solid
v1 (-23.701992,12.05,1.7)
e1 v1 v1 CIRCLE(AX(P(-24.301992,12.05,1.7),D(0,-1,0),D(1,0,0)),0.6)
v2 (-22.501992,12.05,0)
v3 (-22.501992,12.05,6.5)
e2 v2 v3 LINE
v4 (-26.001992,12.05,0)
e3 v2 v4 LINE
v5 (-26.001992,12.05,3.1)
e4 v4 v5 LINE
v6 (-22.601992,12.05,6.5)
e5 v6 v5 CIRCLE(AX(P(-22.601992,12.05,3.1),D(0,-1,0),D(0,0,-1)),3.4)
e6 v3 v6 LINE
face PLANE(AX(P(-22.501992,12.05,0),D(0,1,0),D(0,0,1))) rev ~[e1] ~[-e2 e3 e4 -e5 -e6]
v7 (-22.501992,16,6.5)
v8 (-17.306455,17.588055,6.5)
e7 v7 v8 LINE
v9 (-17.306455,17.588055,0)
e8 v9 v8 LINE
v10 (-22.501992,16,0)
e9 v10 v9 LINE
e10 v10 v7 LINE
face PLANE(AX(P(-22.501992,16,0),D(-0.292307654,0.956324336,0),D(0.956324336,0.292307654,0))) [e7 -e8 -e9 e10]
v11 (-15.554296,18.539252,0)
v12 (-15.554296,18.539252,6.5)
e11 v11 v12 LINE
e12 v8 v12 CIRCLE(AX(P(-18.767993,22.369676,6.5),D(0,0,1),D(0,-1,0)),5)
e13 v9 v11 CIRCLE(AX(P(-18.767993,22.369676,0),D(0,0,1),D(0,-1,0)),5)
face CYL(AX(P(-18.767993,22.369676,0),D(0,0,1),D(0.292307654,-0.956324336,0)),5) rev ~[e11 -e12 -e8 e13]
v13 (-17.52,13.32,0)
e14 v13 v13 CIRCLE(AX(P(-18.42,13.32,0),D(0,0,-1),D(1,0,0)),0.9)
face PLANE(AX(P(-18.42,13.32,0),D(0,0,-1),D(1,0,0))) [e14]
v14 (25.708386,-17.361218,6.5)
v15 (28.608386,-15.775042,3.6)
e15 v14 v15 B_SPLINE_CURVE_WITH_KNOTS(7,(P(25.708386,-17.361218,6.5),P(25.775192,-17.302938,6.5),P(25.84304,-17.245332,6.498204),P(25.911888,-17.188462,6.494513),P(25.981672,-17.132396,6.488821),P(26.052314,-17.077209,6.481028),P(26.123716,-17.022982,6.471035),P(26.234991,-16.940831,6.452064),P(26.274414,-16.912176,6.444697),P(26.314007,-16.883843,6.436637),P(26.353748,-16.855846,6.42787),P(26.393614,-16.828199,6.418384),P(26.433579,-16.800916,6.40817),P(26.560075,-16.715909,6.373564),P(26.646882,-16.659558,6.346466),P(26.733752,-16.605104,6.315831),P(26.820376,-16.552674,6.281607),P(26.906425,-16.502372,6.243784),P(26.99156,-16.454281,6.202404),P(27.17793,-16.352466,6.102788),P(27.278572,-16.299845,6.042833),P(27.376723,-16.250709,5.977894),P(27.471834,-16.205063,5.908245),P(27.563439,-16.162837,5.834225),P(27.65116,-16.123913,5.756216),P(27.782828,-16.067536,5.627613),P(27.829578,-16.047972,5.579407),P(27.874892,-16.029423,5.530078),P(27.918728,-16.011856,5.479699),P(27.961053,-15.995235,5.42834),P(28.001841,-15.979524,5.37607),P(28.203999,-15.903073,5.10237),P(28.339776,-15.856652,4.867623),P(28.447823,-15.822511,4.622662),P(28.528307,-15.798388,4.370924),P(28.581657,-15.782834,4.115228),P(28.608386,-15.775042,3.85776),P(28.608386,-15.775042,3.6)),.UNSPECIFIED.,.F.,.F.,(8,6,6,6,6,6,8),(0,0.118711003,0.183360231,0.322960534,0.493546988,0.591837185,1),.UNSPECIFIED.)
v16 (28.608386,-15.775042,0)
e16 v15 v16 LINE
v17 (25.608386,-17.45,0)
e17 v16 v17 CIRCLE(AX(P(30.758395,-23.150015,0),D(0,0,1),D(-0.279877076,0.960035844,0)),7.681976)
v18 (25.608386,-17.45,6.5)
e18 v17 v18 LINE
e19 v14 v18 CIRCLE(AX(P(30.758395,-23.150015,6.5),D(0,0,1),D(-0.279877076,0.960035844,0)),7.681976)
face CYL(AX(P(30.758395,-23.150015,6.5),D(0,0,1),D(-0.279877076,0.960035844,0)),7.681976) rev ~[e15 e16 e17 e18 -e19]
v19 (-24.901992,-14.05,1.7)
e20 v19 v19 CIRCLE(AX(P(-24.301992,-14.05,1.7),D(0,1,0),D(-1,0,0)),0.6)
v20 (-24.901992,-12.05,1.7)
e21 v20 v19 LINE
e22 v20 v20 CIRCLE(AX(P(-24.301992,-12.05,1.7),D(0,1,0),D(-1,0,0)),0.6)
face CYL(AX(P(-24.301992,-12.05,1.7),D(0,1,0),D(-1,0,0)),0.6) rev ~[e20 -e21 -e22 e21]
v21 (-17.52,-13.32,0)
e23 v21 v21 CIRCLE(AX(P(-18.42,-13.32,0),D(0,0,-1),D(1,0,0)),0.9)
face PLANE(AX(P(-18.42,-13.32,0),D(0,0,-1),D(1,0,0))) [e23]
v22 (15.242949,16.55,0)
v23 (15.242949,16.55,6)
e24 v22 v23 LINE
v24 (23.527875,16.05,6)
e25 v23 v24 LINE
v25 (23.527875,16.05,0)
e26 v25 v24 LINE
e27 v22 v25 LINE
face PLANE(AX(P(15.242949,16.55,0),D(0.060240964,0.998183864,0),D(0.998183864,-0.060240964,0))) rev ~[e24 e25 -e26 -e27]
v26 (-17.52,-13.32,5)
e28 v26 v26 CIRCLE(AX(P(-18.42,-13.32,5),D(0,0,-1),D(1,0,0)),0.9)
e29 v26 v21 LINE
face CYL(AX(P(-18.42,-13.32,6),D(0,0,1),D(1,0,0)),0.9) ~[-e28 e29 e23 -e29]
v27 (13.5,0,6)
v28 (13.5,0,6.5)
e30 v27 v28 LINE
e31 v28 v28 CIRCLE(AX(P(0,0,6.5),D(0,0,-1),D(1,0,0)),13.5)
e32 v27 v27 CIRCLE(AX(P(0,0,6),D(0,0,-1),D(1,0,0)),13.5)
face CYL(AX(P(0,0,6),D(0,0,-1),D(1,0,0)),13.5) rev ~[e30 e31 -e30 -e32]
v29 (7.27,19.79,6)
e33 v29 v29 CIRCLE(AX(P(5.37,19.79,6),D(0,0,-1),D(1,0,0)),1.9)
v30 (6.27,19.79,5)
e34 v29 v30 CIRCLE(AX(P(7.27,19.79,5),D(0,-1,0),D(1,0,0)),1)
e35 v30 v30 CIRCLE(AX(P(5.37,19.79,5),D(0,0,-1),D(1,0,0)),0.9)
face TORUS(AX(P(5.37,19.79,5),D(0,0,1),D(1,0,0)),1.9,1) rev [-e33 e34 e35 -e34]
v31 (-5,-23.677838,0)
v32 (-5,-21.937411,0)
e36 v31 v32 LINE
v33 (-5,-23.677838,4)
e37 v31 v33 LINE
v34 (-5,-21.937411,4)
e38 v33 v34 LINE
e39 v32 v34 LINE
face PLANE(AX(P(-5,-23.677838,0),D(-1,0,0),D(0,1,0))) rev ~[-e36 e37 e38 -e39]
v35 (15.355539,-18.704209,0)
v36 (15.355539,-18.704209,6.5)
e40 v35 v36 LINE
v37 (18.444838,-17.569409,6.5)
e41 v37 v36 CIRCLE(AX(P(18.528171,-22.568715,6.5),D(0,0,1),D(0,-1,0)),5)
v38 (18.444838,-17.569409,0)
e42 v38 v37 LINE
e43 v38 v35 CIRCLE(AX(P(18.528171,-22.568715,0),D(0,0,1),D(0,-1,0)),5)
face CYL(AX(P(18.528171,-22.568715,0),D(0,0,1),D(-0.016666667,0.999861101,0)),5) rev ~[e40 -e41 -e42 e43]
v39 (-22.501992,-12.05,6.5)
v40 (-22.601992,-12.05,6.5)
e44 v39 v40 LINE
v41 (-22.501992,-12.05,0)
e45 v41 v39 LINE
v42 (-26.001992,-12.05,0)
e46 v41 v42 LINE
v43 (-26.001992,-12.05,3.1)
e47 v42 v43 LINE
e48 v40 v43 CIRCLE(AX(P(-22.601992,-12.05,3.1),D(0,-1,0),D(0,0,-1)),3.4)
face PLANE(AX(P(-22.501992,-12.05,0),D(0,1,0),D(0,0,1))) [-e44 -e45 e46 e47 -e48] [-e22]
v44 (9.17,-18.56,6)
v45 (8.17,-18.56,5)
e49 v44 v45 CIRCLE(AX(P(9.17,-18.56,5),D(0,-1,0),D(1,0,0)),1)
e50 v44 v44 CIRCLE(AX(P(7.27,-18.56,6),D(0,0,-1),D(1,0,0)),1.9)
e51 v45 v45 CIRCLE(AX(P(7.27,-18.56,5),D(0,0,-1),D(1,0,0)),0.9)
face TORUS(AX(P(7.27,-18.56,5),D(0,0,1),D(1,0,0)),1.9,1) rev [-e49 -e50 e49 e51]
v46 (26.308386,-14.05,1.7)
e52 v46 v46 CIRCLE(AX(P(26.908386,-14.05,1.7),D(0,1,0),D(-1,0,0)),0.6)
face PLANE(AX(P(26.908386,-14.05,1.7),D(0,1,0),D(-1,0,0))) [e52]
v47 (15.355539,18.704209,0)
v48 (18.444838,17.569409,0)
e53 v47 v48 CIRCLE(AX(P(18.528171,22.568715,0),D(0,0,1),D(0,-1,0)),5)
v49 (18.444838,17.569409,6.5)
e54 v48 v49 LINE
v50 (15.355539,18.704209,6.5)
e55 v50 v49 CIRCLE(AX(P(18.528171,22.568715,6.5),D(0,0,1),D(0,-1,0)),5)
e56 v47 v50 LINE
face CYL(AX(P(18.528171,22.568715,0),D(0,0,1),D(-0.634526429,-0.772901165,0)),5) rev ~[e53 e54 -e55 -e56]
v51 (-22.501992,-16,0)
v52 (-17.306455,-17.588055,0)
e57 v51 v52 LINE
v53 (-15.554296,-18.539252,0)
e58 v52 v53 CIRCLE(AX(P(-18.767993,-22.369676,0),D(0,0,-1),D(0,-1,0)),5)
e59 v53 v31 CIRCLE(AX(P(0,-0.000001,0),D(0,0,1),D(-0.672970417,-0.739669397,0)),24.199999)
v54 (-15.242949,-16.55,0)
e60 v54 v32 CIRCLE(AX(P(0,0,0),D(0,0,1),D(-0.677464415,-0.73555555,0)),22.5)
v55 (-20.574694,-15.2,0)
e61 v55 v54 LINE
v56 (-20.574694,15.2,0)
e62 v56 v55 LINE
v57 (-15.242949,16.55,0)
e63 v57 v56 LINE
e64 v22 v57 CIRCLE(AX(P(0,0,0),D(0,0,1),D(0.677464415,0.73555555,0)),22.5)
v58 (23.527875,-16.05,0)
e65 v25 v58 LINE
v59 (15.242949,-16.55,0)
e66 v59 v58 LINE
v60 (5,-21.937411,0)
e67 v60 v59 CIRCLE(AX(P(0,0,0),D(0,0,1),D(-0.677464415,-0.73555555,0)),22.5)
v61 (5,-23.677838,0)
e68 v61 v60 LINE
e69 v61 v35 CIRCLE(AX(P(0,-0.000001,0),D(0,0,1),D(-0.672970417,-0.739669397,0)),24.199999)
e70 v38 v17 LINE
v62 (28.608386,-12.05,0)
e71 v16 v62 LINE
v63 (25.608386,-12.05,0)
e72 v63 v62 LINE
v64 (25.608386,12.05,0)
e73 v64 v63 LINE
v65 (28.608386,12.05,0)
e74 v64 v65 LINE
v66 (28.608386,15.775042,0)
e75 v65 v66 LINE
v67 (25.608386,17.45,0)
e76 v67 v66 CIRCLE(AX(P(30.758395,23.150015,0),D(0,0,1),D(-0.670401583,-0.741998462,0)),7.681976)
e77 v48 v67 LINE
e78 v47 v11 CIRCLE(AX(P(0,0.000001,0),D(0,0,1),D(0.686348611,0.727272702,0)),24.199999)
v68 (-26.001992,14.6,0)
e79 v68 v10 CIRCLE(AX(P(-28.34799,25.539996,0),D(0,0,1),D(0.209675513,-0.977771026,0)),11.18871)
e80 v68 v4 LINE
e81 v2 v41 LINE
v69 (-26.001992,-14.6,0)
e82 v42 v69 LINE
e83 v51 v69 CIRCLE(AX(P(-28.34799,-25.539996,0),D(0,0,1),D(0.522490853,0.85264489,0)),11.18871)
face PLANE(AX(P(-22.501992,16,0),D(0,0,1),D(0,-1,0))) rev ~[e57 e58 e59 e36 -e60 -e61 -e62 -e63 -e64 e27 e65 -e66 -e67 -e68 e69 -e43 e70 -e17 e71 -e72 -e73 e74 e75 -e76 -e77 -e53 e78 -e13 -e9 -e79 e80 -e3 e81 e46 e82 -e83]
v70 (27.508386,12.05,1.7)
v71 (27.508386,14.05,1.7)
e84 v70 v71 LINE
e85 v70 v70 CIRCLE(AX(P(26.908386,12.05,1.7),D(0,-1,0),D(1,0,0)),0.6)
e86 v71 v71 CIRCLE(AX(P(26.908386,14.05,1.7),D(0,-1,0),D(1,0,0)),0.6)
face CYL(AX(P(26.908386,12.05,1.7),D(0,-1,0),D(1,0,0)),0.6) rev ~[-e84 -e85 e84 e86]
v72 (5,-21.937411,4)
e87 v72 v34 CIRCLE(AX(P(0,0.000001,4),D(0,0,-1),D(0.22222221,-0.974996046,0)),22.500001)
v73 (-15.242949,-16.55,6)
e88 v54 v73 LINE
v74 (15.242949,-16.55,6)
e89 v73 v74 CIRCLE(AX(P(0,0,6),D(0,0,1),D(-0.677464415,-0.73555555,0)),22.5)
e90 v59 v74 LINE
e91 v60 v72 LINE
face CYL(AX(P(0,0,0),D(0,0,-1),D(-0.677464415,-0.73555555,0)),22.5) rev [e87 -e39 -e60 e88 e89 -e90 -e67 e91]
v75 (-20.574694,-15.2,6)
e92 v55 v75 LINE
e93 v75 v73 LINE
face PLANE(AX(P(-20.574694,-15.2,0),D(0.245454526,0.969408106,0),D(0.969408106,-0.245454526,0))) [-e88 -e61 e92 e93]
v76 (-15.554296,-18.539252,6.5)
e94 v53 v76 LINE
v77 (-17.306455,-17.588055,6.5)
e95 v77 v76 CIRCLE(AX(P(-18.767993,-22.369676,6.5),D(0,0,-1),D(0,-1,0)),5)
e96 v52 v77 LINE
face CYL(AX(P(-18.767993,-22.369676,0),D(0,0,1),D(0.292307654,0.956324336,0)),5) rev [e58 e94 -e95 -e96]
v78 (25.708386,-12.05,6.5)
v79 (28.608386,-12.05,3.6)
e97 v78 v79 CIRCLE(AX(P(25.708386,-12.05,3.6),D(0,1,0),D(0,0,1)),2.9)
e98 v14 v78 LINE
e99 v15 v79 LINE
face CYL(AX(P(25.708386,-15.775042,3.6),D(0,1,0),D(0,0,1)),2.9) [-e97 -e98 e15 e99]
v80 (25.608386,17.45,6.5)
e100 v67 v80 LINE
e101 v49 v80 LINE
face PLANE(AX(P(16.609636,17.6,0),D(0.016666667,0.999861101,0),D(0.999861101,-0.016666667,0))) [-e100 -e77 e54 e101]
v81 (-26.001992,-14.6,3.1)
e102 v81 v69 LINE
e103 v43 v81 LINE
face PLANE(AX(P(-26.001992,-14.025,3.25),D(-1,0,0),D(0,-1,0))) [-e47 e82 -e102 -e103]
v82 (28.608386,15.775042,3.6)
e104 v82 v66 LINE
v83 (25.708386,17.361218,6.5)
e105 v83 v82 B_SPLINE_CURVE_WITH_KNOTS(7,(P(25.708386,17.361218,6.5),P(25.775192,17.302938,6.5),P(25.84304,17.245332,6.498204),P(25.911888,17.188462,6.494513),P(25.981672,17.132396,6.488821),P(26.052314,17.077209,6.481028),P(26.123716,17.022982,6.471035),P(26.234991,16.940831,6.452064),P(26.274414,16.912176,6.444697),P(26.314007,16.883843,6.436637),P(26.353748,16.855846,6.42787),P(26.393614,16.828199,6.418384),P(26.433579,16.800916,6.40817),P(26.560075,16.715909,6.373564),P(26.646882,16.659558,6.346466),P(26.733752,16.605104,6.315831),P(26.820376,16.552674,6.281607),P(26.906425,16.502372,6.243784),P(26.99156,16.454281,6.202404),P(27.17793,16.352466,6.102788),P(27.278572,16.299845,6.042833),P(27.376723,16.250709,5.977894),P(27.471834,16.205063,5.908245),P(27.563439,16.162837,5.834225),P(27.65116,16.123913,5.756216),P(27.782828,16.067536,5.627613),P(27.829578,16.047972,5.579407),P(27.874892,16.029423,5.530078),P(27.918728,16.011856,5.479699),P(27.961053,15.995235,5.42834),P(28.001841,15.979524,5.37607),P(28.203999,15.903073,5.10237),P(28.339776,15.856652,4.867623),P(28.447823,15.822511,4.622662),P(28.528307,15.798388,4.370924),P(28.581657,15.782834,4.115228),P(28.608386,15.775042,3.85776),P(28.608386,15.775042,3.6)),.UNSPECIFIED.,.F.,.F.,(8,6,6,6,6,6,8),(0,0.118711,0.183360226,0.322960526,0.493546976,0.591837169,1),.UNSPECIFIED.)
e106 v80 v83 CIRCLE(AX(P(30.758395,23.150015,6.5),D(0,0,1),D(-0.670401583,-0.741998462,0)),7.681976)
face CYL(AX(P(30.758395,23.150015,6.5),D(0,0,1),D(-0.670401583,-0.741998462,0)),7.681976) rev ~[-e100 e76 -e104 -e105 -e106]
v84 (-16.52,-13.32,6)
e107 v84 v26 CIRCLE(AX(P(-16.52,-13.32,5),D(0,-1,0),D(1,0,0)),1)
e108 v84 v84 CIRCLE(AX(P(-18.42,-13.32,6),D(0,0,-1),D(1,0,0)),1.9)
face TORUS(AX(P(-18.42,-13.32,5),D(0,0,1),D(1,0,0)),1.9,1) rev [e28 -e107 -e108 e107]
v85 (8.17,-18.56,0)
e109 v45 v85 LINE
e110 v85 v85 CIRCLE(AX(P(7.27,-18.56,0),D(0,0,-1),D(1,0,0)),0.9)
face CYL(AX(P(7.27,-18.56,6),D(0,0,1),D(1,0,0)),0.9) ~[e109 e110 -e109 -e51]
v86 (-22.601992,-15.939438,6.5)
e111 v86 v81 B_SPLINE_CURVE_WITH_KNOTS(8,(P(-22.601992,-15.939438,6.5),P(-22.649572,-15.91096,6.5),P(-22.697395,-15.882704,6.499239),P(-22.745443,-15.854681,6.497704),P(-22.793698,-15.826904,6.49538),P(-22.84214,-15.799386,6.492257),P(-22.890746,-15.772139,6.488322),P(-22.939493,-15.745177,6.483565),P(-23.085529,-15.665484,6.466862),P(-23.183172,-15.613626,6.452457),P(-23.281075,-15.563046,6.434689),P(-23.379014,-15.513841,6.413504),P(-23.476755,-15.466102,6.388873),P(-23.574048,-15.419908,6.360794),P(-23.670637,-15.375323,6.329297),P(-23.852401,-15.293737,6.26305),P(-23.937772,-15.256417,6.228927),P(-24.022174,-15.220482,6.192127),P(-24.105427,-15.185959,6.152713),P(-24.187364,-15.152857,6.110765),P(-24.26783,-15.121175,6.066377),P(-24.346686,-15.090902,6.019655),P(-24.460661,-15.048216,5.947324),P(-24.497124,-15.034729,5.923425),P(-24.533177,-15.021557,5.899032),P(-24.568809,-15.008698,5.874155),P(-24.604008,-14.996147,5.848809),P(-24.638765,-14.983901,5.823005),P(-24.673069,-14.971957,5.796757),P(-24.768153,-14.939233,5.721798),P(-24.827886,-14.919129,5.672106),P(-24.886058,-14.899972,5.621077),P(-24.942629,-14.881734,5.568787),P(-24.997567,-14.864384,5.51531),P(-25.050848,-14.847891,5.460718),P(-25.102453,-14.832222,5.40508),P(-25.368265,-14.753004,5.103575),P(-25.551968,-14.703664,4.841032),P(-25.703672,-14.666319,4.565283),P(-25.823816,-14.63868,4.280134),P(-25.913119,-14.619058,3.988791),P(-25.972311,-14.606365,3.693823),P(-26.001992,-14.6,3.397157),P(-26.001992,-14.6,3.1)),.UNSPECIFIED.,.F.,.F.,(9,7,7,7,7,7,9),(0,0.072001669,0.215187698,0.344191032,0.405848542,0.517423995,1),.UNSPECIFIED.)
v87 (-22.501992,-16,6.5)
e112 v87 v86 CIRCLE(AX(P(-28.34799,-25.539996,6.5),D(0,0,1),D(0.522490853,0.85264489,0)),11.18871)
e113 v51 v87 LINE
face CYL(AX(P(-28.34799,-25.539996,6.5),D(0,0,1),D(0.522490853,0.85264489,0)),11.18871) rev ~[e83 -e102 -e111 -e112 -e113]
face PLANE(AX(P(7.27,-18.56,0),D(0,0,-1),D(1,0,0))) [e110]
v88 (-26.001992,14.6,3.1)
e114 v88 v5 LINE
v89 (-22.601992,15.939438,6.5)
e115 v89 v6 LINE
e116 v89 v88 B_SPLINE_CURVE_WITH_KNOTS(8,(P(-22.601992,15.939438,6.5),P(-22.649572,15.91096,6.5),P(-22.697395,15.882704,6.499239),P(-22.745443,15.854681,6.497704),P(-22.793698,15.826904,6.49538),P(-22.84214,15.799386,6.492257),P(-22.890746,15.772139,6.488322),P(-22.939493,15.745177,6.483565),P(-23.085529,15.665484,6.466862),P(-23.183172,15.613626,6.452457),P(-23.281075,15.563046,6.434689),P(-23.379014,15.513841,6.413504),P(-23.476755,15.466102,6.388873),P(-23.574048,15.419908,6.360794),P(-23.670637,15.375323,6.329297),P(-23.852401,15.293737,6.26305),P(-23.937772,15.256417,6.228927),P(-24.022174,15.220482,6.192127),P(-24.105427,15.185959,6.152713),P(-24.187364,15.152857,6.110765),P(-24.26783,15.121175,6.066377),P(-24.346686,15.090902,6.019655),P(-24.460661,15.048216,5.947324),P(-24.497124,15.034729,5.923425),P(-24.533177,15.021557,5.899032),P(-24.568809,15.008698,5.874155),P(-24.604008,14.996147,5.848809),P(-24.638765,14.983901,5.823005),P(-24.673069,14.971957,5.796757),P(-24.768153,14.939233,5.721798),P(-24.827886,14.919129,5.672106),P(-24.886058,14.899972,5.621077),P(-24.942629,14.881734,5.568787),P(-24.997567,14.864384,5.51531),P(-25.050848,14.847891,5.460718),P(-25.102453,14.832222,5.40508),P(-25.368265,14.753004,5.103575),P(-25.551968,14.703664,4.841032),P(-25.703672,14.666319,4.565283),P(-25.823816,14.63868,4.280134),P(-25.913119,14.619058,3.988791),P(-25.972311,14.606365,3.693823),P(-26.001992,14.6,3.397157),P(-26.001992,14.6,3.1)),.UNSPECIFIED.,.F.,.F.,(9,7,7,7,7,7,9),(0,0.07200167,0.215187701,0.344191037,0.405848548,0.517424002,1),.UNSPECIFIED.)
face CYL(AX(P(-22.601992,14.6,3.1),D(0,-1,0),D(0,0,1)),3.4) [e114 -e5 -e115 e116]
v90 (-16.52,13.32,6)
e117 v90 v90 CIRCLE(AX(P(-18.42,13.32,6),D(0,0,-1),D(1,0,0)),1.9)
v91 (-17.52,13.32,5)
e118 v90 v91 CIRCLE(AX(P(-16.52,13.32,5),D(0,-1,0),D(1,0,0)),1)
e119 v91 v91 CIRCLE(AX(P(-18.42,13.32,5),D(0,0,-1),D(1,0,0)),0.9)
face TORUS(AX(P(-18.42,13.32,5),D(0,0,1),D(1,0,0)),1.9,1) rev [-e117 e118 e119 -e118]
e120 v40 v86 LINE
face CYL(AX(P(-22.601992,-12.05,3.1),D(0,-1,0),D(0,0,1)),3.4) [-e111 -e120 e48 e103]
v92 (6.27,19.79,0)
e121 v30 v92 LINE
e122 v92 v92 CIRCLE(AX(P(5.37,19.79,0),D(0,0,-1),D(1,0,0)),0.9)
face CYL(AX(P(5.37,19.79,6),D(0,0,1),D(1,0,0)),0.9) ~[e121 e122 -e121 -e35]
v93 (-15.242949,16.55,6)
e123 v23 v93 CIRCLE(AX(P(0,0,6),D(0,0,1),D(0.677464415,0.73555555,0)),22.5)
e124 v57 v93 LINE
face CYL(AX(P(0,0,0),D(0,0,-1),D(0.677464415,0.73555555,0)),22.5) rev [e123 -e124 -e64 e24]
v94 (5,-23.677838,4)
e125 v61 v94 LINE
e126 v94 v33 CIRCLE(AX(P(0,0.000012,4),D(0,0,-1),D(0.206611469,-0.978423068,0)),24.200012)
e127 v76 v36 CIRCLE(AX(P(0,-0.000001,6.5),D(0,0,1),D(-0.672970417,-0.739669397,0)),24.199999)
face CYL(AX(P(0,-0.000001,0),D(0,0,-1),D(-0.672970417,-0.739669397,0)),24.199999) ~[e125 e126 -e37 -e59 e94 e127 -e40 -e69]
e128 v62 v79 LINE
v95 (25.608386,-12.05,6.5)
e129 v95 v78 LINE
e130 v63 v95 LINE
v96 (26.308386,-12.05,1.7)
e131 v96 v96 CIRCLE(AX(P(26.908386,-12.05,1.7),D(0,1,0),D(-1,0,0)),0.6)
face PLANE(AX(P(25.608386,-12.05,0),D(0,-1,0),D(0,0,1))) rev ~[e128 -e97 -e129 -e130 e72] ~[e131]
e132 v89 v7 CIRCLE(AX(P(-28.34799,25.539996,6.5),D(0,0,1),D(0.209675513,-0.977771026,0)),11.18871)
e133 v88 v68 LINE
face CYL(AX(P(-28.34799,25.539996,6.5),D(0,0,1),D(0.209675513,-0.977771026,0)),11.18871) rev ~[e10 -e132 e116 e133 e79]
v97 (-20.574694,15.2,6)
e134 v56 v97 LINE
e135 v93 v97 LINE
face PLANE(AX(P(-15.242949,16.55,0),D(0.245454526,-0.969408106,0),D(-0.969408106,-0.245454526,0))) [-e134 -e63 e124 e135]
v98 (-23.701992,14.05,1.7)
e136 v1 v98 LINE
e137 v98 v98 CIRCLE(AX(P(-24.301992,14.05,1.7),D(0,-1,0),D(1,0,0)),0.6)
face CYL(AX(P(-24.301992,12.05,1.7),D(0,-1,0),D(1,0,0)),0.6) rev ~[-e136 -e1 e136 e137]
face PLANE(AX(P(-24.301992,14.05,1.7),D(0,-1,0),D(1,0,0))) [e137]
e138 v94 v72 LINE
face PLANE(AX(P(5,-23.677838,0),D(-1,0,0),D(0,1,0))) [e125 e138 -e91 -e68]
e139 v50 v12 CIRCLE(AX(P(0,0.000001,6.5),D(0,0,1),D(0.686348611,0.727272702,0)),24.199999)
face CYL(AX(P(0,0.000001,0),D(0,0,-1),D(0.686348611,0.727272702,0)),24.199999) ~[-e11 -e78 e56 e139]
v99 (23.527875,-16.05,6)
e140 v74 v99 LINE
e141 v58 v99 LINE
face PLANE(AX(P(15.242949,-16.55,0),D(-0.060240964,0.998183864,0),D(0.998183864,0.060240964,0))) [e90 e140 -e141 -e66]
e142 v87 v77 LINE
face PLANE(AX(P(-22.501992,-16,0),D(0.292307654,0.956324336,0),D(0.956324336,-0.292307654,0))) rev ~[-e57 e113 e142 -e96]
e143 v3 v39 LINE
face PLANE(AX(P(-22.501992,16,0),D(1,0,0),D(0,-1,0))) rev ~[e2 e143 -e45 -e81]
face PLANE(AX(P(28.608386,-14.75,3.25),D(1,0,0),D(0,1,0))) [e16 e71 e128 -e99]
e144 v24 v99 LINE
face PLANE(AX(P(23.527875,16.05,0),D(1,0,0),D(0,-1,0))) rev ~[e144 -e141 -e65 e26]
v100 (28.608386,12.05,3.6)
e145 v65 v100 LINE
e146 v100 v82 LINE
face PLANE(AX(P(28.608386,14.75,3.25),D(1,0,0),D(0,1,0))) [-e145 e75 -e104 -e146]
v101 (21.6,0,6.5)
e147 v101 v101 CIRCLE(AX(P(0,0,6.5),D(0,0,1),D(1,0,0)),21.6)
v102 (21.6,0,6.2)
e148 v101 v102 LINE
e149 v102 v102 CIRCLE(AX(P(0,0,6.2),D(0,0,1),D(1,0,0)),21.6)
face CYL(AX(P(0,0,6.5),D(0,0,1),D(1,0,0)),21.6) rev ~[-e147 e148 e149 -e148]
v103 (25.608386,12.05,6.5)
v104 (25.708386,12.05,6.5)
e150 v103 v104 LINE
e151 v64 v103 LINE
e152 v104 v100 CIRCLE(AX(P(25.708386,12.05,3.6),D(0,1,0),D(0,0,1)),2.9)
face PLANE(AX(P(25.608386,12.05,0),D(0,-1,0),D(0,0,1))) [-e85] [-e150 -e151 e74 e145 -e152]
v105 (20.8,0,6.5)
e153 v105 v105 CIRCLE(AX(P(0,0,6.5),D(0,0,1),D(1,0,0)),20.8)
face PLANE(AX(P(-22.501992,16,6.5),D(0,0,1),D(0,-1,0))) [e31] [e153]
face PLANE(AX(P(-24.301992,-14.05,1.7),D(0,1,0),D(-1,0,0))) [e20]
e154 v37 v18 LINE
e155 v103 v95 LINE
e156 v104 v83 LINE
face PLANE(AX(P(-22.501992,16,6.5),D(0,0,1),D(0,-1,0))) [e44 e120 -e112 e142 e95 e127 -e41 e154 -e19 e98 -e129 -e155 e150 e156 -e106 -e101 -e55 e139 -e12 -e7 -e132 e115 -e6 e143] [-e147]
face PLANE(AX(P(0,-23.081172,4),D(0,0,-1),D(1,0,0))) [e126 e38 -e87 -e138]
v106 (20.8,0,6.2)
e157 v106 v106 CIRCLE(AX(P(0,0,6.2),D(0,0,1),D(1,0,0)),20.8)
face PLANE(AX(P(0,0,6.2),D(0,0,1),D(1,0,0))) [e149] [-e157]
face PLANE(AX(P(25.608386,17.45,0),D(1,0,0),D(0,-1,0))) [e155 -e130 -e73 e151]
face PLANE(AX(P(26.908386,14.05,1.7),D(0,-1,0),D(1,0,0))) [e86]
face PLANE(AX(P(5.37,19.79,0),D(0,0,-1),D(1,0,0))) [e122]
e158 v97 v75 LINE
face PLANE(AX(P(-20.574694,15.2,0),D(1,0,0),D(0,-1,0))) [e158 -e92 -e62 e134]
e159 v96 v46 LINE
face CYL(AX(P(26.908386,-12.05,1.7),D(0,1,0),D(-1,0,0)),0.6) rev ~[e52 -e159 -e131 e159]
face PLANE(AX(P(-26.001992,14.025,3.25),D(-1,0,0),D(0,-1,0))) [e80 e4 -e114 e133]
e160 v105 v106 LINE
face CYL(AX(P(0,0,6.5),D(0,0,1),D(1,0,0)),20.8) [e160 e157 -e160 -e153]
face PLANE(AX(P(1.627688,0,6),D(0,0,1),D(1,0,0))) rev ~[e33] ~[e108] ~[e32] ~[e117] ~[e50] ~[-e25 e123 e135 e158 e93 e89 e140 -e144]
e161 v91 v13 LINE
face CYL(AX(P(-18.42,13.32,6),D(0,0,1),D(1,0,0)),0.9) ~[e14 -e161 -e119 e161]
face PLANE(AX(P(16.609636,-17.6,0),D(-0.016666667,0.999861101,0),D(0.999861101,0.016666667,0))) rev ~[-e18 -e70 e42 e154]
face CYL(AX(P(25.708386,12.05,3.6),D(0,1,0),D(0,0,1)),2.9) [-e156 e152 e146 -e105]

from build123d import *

# Parameters (mm, degrees)
PAD_DEPTH       = 6.5
POCKET_DEPTH    = 6
SKETCH002_R     = 13.5
POCKET001_DEPTH = 1
SKETCH003_W     = 5.4
SKETCH003_H     = 6.5
PAD001_DEPTH    = 3
POCKET002_DEPTH = 10
SKETCH008_R     = 0.6
POCKET003_DEPTH = 2
SKETCH009_R     = 0.6
POCKET004_DEPTH = 2
FILLET_R        = 2.9
FILLET001_R     = 2.9
FILLET002_R     = 5
FILLET003_R     = 5
FILLET004_R     = 5
FILLET005_R     = 5
SKETCH010_W     = 3.95
SKETCH010_H     = 6.5
PAD002_DEPTH    = 3.5
POCKET005_DEPTH = 10
SKETCH012_R     = 0.6
POCKET006_DEPTH = 2
SKETCH013_R     = 0.6
POCKET007_DEPTH = 2
FILLET006_R     = 3.4
FILLET007_R     = 3.4
SKETCH014_R     = 21.6
SKETCH014_R_2   = 20.8
POCKET008_DEPTH = 0.3
SKETCH015_R     = 0.9
PAD003_DEPTH    = 6
FILLET008_R     = 1
POCKET009_DEPTH = 4


with BuildPart() as part:
    # Sketch → Pad (new body)
    with BuildSketch(Plane.XY):
        with BuildLine():
            Line((-22.501992, 16), (-22.501992, -16))
            Line((-22.501992, -16), (-16.285883, -17.9))
            ThreePointArc((-16.285883, -17.9), (0.22069, -24.198994), (16.609636, -17.6))
            Line((16.609636, -17.6), (25.608386, -17.45))
            Line((25.608386, 17.45), (25.608386, -17.45))
            Line((16.609636, 17.6), (25.608386, 17.45))
            ThreePointArc((16.609636, 17.6), (0.22069, 24.198994), (-16.285883, 17.9))
            Line((-22.501992, 16), (-16.285883, 17.9))
        make_face()
    extrude(amount=PAD_DEPTH)

    # Sketch001 → Pocket (cut)
    with BuildSketch(Plane.XY):
        with BuildLine():
            Line((-15.242949, 16.55), (-20.574694, 15.2))
            Line((-20.574694, 15.2), (-20.574694, -15.2))
            Line((-20.574694, -15.2), (-15.242949, -16.55))
            ThreePointArc((-15.242949, -16.55), (0, -22.5), (15.242949, -16.55))
            Line((15.242949, -16.55), (23.527875, -16.05))
            Line((23.527875, 16.05), (23.527875, -16.05))
            Line((15.242949, 16.55), (23.527875, 16.05))
            ThreePointArc((15.242949, 16.55), (0, 22.5), (-15.242949, 16.55))
        make_face()
    extrude(amount=POCKET_DEPTH, mode=Mode.SUBTRACT)

    # Sketch002 (on Face19 of Pocket) → Pocket001 (cut)
    with BuildSketch(Plane(origin=(0, 0, 6), x_dir=(1, 0, 0), z_dir=(0, 0, -1))):
        Circle(SKETCH002_R)
    extrude(amount=-POCKET001_DEPTH, mode=Mode.SUBTRACT)

    # Sketch003 (on Face6 of Pocket001) → Pad001 (join)
    with BuildSketch(Plane.YZ.offset(25.608386)):
        with Locations((-14.75, 3.25)):
            Rectangle(SKETCH003_W, SKETCH003_H)
        with Locations((14.75, 3.25)):
            Rectangle(SKETCH003_W, SKETCH003_H)
    extrude(amount=PAD001_DEPTH)

    # Sketch006 → Pocket002 (cut)
    with BuildSketch(Plane.XY.offset(6.5)):
        with BuildLine():
            ThreePointArc((25.608386, 17.45), (27.01354, 16.442644), (28.608386, 15.775042))
            Line((28.608386, 17.45), (28.608386, 15.775042))
            Line((28.608386, 17.45), (25.608386, 17.45))
        make_face()
        with BuildLine():
            ThreePointArc((28.608386, -15.775042), (27.01354, -16.442644), (25.608386, -17.45))
            Line((28.608386, -17.45), (25.608386, -17.45))
            Line((28.608386, -15.775042), (28.608386, -17.45))
        make_face()
    extrude(amount=-POCKET002_DEPTH, mode=Mode.SUBTRACT)

    # Sketch008 (on Face27 of Pocket002) → Pocket003 (cut)
    with BuildSketch(Plane(origin=(0, -12.05, 0), x_dir=(-1, 0, 0), z_dir=(0, 1, 0))):
        with Locations((-26.908386, 1.7)):
            Circle(SKETCH008_R)
    extrude(amount=-POCKET003_DEPTH, mode=Mode.SUBTRACT)

    # Sketch009 (on Face26 of Pocket003) → Pocket004 (cut)
    with BuildSketch(Plane.XZ.offset(-12.05)):
        with Locations((26.908386, 1.7)):
            Circle(SKETCH009_R)
    extrude(amount=-POCKET004_DEPTH, mode=Mode.SUBTRACT)

    # Fillet
    fillet_edges = [part.edges().sort_by_distance(p)[0] for p in [
        (28.608386, -13.912521, 6.5),
    ]]
    fillet(fillet_edges, radius=FILLET_R)

    # Fillet001
    fillet001_edges = [part.edges().sort_by_distance(p)[0] for p in [
        (28.608386, 13.912521, 6.5),
    ]]
    fillet(fillet001_edges, radius=FILLET001_R)

    # Fillet002
    fillet002_edges = [part.edges().sort_by_distance(p)[0] for p in [
        (16.609636, -17.6, 3.25),
    ]]
    fillet(fillet002_edges, radius=FILLET002_R)

    # Fillet003
    fillet003_edges = [part.edges().sort_by_distance(p)[0] for p in [
        (16.609636, 17.6, 3.25),
    ]]
    fillet(fillet003_edges, radius=FILLET003_R)

    # Fillet004
    fillet004_edges = [part.edges().sort_by_distance(p)[0] for p in [
        (-16.285883, -17.9, 3.25),
    ]]
    fillet(fillet004_edges, radius=FILLET004_R)

    # Fillet005
    fillet005_edges = [part.edges().sort_by_distance(p)[0] for p in [
        (-16.285883, 17.9, 3.25),
    ]]
    fillet(fillet005_edges, radius=FILLET005_R)

    # Sketch010 (on Face4 of Fillet005) → Pad002 (join)
    with BuildSketch(Plane(origin=(-22.501992, 0, 0), x_dir=(0, -1, 0), z_dir=(-1, 0, 0))):
        with Locations((-14.025, 3.25)):
            Rectangle(SKETCH010_W, SKETCH010_H)
        with Locations((14.025, 3.25)):
            Rectangle(SKETCH010_W, SKETCH010_H)
    extrude(amount=PAD002_DEPTH)

    # Sketch011 (on Face6 of Pad002) → Pocket005 (cut)
    with BuildSketch(Plane.XY.offset(6.5)):
        with BuildLine():
            ThreePointArc((-26.001992, 14.6), (-24.192608, 15.15154), (-22.501992, 16))
            Line((-22.501992, 16), (-26.001992, 16))
            Line((-26.001992, 16), (-26.001992, 14.6))
        make_face()
        with BuildLine():
            ThreePointArc((-22.501992, -16), (-24.192608, -15.15154), (-26.001992, -14.6))
            Line((-26.001992, -14.6), (-26.001992, -16))
            Line((-26.001992, -16), (-22.501992, -16))
        make_face()
    extrude(amount=-POCKET005_DEPTH, mode=Mode.SUBTRACT)

    # Sketch012 (on Face23 of Pocket005) → Pocket006 (cut)
    with BuildSketch(Plane(origin=(0, -12.05, 0), x_dir=(-1, 0, 0), z_dir=(0, 1, 0))):
        with Locations((24.301992, 1.7)):
            Circle(SKETCH012_R)
    extrude(amount=-POCKET006_DEPTH, mode=Mode.SUBTRACT)

    # Sketch013 (on Face21 of Pocket006) → Pocket007 (cut)
    with BuildSketch(Plane.XZ.offset(-12.05)):
        with Locations((-24.301992, 1.7)):
            Circle(SKETCH013_R)
    extrude(amount=-POCKET007_DEPTH, mode=Mode.SUBTRACT)

    # Fillet006
    fillet006_edges = [part.edges().sort_by_distance(p)[0] for p in [
        (-26.001992, 13.325, 6.5),
    ]]
    fillet(fillet006_edges, radius=FILLET006_R)

    # Fillet007
    fillet007_edges = [part.edges().sort_by_distance(p)[0] for p in [
        (-26.001992, -13.325, 6.5),
    ]]
    fillet(fillet007_edges, radius=FILLET007_R)

    # Sketch014 (on Face4 of Fillet007) → Pocket008 (cut)
    with BuildSketch(Plane.XY.offset(6.5)):
        Circle(SKETCH014_R)
        Circle(SKETCH014_R_2, mode=Mode.SUBTRACT)
    extrude(amount=-POCKET008_DEPTH, mode=Mode.SUBTRACT)

    # Sketch015 (on Face55 of Pocket008) → Pad003 (join)
    with BuildSketch(Plane(origin=(0, 0, 6), x_dir=(1, 0, 0), z_dir=(0, 0, -1))):
        with Locations((-18.42, 13.32)):
            Circle(SKETCH015_R)
        with Locations((-18.42, -13.32)):
            Circle(SKETCH015_R)
        with Locations((7.27, 18.56)):
            Circle(SKETCH015_R)
        with Locations((5.37, -19.79)):
            Circle(SKETCH015_R)
    extrude(amount=PAD003_DEPTH)

    # Fillet008
    fillet008_edges = [part.edges().sort_by_distance(p)[0] for p in [
        (-19.32, -13.32, 6),
        (6.37, -18.56, 6),
        (-19.32, 13.32, 6),
        (4.47, 19.79, 6),
    ]]
    fillet(fillet008_edges, radius=FILLET008_R)

    # Sketch016 (on Face16 of Fillet008) → Pocket009 (cut)
    with BuildSketch(Plane(origin=(0, 0, 0), x_dir=(1, 0, 0), z_dir=(0, 0, -1))):
        with BuildLine():
            Line((-5, 23.677838), (-5, 21.937411))
            ThreePointArc((5, 21.937411), (0, 22.5), (-5, 21.937411))
            Line((5, 23.677838), (5, 21.937411))
            ThreePointArc((5, 23.677838), (0, 24.2), (-5, 23.677838))
        make_face()
    extrude(amount=-POCKET009_DEPTH, mode=Mode.SUBTRACT)


solid = part.part
